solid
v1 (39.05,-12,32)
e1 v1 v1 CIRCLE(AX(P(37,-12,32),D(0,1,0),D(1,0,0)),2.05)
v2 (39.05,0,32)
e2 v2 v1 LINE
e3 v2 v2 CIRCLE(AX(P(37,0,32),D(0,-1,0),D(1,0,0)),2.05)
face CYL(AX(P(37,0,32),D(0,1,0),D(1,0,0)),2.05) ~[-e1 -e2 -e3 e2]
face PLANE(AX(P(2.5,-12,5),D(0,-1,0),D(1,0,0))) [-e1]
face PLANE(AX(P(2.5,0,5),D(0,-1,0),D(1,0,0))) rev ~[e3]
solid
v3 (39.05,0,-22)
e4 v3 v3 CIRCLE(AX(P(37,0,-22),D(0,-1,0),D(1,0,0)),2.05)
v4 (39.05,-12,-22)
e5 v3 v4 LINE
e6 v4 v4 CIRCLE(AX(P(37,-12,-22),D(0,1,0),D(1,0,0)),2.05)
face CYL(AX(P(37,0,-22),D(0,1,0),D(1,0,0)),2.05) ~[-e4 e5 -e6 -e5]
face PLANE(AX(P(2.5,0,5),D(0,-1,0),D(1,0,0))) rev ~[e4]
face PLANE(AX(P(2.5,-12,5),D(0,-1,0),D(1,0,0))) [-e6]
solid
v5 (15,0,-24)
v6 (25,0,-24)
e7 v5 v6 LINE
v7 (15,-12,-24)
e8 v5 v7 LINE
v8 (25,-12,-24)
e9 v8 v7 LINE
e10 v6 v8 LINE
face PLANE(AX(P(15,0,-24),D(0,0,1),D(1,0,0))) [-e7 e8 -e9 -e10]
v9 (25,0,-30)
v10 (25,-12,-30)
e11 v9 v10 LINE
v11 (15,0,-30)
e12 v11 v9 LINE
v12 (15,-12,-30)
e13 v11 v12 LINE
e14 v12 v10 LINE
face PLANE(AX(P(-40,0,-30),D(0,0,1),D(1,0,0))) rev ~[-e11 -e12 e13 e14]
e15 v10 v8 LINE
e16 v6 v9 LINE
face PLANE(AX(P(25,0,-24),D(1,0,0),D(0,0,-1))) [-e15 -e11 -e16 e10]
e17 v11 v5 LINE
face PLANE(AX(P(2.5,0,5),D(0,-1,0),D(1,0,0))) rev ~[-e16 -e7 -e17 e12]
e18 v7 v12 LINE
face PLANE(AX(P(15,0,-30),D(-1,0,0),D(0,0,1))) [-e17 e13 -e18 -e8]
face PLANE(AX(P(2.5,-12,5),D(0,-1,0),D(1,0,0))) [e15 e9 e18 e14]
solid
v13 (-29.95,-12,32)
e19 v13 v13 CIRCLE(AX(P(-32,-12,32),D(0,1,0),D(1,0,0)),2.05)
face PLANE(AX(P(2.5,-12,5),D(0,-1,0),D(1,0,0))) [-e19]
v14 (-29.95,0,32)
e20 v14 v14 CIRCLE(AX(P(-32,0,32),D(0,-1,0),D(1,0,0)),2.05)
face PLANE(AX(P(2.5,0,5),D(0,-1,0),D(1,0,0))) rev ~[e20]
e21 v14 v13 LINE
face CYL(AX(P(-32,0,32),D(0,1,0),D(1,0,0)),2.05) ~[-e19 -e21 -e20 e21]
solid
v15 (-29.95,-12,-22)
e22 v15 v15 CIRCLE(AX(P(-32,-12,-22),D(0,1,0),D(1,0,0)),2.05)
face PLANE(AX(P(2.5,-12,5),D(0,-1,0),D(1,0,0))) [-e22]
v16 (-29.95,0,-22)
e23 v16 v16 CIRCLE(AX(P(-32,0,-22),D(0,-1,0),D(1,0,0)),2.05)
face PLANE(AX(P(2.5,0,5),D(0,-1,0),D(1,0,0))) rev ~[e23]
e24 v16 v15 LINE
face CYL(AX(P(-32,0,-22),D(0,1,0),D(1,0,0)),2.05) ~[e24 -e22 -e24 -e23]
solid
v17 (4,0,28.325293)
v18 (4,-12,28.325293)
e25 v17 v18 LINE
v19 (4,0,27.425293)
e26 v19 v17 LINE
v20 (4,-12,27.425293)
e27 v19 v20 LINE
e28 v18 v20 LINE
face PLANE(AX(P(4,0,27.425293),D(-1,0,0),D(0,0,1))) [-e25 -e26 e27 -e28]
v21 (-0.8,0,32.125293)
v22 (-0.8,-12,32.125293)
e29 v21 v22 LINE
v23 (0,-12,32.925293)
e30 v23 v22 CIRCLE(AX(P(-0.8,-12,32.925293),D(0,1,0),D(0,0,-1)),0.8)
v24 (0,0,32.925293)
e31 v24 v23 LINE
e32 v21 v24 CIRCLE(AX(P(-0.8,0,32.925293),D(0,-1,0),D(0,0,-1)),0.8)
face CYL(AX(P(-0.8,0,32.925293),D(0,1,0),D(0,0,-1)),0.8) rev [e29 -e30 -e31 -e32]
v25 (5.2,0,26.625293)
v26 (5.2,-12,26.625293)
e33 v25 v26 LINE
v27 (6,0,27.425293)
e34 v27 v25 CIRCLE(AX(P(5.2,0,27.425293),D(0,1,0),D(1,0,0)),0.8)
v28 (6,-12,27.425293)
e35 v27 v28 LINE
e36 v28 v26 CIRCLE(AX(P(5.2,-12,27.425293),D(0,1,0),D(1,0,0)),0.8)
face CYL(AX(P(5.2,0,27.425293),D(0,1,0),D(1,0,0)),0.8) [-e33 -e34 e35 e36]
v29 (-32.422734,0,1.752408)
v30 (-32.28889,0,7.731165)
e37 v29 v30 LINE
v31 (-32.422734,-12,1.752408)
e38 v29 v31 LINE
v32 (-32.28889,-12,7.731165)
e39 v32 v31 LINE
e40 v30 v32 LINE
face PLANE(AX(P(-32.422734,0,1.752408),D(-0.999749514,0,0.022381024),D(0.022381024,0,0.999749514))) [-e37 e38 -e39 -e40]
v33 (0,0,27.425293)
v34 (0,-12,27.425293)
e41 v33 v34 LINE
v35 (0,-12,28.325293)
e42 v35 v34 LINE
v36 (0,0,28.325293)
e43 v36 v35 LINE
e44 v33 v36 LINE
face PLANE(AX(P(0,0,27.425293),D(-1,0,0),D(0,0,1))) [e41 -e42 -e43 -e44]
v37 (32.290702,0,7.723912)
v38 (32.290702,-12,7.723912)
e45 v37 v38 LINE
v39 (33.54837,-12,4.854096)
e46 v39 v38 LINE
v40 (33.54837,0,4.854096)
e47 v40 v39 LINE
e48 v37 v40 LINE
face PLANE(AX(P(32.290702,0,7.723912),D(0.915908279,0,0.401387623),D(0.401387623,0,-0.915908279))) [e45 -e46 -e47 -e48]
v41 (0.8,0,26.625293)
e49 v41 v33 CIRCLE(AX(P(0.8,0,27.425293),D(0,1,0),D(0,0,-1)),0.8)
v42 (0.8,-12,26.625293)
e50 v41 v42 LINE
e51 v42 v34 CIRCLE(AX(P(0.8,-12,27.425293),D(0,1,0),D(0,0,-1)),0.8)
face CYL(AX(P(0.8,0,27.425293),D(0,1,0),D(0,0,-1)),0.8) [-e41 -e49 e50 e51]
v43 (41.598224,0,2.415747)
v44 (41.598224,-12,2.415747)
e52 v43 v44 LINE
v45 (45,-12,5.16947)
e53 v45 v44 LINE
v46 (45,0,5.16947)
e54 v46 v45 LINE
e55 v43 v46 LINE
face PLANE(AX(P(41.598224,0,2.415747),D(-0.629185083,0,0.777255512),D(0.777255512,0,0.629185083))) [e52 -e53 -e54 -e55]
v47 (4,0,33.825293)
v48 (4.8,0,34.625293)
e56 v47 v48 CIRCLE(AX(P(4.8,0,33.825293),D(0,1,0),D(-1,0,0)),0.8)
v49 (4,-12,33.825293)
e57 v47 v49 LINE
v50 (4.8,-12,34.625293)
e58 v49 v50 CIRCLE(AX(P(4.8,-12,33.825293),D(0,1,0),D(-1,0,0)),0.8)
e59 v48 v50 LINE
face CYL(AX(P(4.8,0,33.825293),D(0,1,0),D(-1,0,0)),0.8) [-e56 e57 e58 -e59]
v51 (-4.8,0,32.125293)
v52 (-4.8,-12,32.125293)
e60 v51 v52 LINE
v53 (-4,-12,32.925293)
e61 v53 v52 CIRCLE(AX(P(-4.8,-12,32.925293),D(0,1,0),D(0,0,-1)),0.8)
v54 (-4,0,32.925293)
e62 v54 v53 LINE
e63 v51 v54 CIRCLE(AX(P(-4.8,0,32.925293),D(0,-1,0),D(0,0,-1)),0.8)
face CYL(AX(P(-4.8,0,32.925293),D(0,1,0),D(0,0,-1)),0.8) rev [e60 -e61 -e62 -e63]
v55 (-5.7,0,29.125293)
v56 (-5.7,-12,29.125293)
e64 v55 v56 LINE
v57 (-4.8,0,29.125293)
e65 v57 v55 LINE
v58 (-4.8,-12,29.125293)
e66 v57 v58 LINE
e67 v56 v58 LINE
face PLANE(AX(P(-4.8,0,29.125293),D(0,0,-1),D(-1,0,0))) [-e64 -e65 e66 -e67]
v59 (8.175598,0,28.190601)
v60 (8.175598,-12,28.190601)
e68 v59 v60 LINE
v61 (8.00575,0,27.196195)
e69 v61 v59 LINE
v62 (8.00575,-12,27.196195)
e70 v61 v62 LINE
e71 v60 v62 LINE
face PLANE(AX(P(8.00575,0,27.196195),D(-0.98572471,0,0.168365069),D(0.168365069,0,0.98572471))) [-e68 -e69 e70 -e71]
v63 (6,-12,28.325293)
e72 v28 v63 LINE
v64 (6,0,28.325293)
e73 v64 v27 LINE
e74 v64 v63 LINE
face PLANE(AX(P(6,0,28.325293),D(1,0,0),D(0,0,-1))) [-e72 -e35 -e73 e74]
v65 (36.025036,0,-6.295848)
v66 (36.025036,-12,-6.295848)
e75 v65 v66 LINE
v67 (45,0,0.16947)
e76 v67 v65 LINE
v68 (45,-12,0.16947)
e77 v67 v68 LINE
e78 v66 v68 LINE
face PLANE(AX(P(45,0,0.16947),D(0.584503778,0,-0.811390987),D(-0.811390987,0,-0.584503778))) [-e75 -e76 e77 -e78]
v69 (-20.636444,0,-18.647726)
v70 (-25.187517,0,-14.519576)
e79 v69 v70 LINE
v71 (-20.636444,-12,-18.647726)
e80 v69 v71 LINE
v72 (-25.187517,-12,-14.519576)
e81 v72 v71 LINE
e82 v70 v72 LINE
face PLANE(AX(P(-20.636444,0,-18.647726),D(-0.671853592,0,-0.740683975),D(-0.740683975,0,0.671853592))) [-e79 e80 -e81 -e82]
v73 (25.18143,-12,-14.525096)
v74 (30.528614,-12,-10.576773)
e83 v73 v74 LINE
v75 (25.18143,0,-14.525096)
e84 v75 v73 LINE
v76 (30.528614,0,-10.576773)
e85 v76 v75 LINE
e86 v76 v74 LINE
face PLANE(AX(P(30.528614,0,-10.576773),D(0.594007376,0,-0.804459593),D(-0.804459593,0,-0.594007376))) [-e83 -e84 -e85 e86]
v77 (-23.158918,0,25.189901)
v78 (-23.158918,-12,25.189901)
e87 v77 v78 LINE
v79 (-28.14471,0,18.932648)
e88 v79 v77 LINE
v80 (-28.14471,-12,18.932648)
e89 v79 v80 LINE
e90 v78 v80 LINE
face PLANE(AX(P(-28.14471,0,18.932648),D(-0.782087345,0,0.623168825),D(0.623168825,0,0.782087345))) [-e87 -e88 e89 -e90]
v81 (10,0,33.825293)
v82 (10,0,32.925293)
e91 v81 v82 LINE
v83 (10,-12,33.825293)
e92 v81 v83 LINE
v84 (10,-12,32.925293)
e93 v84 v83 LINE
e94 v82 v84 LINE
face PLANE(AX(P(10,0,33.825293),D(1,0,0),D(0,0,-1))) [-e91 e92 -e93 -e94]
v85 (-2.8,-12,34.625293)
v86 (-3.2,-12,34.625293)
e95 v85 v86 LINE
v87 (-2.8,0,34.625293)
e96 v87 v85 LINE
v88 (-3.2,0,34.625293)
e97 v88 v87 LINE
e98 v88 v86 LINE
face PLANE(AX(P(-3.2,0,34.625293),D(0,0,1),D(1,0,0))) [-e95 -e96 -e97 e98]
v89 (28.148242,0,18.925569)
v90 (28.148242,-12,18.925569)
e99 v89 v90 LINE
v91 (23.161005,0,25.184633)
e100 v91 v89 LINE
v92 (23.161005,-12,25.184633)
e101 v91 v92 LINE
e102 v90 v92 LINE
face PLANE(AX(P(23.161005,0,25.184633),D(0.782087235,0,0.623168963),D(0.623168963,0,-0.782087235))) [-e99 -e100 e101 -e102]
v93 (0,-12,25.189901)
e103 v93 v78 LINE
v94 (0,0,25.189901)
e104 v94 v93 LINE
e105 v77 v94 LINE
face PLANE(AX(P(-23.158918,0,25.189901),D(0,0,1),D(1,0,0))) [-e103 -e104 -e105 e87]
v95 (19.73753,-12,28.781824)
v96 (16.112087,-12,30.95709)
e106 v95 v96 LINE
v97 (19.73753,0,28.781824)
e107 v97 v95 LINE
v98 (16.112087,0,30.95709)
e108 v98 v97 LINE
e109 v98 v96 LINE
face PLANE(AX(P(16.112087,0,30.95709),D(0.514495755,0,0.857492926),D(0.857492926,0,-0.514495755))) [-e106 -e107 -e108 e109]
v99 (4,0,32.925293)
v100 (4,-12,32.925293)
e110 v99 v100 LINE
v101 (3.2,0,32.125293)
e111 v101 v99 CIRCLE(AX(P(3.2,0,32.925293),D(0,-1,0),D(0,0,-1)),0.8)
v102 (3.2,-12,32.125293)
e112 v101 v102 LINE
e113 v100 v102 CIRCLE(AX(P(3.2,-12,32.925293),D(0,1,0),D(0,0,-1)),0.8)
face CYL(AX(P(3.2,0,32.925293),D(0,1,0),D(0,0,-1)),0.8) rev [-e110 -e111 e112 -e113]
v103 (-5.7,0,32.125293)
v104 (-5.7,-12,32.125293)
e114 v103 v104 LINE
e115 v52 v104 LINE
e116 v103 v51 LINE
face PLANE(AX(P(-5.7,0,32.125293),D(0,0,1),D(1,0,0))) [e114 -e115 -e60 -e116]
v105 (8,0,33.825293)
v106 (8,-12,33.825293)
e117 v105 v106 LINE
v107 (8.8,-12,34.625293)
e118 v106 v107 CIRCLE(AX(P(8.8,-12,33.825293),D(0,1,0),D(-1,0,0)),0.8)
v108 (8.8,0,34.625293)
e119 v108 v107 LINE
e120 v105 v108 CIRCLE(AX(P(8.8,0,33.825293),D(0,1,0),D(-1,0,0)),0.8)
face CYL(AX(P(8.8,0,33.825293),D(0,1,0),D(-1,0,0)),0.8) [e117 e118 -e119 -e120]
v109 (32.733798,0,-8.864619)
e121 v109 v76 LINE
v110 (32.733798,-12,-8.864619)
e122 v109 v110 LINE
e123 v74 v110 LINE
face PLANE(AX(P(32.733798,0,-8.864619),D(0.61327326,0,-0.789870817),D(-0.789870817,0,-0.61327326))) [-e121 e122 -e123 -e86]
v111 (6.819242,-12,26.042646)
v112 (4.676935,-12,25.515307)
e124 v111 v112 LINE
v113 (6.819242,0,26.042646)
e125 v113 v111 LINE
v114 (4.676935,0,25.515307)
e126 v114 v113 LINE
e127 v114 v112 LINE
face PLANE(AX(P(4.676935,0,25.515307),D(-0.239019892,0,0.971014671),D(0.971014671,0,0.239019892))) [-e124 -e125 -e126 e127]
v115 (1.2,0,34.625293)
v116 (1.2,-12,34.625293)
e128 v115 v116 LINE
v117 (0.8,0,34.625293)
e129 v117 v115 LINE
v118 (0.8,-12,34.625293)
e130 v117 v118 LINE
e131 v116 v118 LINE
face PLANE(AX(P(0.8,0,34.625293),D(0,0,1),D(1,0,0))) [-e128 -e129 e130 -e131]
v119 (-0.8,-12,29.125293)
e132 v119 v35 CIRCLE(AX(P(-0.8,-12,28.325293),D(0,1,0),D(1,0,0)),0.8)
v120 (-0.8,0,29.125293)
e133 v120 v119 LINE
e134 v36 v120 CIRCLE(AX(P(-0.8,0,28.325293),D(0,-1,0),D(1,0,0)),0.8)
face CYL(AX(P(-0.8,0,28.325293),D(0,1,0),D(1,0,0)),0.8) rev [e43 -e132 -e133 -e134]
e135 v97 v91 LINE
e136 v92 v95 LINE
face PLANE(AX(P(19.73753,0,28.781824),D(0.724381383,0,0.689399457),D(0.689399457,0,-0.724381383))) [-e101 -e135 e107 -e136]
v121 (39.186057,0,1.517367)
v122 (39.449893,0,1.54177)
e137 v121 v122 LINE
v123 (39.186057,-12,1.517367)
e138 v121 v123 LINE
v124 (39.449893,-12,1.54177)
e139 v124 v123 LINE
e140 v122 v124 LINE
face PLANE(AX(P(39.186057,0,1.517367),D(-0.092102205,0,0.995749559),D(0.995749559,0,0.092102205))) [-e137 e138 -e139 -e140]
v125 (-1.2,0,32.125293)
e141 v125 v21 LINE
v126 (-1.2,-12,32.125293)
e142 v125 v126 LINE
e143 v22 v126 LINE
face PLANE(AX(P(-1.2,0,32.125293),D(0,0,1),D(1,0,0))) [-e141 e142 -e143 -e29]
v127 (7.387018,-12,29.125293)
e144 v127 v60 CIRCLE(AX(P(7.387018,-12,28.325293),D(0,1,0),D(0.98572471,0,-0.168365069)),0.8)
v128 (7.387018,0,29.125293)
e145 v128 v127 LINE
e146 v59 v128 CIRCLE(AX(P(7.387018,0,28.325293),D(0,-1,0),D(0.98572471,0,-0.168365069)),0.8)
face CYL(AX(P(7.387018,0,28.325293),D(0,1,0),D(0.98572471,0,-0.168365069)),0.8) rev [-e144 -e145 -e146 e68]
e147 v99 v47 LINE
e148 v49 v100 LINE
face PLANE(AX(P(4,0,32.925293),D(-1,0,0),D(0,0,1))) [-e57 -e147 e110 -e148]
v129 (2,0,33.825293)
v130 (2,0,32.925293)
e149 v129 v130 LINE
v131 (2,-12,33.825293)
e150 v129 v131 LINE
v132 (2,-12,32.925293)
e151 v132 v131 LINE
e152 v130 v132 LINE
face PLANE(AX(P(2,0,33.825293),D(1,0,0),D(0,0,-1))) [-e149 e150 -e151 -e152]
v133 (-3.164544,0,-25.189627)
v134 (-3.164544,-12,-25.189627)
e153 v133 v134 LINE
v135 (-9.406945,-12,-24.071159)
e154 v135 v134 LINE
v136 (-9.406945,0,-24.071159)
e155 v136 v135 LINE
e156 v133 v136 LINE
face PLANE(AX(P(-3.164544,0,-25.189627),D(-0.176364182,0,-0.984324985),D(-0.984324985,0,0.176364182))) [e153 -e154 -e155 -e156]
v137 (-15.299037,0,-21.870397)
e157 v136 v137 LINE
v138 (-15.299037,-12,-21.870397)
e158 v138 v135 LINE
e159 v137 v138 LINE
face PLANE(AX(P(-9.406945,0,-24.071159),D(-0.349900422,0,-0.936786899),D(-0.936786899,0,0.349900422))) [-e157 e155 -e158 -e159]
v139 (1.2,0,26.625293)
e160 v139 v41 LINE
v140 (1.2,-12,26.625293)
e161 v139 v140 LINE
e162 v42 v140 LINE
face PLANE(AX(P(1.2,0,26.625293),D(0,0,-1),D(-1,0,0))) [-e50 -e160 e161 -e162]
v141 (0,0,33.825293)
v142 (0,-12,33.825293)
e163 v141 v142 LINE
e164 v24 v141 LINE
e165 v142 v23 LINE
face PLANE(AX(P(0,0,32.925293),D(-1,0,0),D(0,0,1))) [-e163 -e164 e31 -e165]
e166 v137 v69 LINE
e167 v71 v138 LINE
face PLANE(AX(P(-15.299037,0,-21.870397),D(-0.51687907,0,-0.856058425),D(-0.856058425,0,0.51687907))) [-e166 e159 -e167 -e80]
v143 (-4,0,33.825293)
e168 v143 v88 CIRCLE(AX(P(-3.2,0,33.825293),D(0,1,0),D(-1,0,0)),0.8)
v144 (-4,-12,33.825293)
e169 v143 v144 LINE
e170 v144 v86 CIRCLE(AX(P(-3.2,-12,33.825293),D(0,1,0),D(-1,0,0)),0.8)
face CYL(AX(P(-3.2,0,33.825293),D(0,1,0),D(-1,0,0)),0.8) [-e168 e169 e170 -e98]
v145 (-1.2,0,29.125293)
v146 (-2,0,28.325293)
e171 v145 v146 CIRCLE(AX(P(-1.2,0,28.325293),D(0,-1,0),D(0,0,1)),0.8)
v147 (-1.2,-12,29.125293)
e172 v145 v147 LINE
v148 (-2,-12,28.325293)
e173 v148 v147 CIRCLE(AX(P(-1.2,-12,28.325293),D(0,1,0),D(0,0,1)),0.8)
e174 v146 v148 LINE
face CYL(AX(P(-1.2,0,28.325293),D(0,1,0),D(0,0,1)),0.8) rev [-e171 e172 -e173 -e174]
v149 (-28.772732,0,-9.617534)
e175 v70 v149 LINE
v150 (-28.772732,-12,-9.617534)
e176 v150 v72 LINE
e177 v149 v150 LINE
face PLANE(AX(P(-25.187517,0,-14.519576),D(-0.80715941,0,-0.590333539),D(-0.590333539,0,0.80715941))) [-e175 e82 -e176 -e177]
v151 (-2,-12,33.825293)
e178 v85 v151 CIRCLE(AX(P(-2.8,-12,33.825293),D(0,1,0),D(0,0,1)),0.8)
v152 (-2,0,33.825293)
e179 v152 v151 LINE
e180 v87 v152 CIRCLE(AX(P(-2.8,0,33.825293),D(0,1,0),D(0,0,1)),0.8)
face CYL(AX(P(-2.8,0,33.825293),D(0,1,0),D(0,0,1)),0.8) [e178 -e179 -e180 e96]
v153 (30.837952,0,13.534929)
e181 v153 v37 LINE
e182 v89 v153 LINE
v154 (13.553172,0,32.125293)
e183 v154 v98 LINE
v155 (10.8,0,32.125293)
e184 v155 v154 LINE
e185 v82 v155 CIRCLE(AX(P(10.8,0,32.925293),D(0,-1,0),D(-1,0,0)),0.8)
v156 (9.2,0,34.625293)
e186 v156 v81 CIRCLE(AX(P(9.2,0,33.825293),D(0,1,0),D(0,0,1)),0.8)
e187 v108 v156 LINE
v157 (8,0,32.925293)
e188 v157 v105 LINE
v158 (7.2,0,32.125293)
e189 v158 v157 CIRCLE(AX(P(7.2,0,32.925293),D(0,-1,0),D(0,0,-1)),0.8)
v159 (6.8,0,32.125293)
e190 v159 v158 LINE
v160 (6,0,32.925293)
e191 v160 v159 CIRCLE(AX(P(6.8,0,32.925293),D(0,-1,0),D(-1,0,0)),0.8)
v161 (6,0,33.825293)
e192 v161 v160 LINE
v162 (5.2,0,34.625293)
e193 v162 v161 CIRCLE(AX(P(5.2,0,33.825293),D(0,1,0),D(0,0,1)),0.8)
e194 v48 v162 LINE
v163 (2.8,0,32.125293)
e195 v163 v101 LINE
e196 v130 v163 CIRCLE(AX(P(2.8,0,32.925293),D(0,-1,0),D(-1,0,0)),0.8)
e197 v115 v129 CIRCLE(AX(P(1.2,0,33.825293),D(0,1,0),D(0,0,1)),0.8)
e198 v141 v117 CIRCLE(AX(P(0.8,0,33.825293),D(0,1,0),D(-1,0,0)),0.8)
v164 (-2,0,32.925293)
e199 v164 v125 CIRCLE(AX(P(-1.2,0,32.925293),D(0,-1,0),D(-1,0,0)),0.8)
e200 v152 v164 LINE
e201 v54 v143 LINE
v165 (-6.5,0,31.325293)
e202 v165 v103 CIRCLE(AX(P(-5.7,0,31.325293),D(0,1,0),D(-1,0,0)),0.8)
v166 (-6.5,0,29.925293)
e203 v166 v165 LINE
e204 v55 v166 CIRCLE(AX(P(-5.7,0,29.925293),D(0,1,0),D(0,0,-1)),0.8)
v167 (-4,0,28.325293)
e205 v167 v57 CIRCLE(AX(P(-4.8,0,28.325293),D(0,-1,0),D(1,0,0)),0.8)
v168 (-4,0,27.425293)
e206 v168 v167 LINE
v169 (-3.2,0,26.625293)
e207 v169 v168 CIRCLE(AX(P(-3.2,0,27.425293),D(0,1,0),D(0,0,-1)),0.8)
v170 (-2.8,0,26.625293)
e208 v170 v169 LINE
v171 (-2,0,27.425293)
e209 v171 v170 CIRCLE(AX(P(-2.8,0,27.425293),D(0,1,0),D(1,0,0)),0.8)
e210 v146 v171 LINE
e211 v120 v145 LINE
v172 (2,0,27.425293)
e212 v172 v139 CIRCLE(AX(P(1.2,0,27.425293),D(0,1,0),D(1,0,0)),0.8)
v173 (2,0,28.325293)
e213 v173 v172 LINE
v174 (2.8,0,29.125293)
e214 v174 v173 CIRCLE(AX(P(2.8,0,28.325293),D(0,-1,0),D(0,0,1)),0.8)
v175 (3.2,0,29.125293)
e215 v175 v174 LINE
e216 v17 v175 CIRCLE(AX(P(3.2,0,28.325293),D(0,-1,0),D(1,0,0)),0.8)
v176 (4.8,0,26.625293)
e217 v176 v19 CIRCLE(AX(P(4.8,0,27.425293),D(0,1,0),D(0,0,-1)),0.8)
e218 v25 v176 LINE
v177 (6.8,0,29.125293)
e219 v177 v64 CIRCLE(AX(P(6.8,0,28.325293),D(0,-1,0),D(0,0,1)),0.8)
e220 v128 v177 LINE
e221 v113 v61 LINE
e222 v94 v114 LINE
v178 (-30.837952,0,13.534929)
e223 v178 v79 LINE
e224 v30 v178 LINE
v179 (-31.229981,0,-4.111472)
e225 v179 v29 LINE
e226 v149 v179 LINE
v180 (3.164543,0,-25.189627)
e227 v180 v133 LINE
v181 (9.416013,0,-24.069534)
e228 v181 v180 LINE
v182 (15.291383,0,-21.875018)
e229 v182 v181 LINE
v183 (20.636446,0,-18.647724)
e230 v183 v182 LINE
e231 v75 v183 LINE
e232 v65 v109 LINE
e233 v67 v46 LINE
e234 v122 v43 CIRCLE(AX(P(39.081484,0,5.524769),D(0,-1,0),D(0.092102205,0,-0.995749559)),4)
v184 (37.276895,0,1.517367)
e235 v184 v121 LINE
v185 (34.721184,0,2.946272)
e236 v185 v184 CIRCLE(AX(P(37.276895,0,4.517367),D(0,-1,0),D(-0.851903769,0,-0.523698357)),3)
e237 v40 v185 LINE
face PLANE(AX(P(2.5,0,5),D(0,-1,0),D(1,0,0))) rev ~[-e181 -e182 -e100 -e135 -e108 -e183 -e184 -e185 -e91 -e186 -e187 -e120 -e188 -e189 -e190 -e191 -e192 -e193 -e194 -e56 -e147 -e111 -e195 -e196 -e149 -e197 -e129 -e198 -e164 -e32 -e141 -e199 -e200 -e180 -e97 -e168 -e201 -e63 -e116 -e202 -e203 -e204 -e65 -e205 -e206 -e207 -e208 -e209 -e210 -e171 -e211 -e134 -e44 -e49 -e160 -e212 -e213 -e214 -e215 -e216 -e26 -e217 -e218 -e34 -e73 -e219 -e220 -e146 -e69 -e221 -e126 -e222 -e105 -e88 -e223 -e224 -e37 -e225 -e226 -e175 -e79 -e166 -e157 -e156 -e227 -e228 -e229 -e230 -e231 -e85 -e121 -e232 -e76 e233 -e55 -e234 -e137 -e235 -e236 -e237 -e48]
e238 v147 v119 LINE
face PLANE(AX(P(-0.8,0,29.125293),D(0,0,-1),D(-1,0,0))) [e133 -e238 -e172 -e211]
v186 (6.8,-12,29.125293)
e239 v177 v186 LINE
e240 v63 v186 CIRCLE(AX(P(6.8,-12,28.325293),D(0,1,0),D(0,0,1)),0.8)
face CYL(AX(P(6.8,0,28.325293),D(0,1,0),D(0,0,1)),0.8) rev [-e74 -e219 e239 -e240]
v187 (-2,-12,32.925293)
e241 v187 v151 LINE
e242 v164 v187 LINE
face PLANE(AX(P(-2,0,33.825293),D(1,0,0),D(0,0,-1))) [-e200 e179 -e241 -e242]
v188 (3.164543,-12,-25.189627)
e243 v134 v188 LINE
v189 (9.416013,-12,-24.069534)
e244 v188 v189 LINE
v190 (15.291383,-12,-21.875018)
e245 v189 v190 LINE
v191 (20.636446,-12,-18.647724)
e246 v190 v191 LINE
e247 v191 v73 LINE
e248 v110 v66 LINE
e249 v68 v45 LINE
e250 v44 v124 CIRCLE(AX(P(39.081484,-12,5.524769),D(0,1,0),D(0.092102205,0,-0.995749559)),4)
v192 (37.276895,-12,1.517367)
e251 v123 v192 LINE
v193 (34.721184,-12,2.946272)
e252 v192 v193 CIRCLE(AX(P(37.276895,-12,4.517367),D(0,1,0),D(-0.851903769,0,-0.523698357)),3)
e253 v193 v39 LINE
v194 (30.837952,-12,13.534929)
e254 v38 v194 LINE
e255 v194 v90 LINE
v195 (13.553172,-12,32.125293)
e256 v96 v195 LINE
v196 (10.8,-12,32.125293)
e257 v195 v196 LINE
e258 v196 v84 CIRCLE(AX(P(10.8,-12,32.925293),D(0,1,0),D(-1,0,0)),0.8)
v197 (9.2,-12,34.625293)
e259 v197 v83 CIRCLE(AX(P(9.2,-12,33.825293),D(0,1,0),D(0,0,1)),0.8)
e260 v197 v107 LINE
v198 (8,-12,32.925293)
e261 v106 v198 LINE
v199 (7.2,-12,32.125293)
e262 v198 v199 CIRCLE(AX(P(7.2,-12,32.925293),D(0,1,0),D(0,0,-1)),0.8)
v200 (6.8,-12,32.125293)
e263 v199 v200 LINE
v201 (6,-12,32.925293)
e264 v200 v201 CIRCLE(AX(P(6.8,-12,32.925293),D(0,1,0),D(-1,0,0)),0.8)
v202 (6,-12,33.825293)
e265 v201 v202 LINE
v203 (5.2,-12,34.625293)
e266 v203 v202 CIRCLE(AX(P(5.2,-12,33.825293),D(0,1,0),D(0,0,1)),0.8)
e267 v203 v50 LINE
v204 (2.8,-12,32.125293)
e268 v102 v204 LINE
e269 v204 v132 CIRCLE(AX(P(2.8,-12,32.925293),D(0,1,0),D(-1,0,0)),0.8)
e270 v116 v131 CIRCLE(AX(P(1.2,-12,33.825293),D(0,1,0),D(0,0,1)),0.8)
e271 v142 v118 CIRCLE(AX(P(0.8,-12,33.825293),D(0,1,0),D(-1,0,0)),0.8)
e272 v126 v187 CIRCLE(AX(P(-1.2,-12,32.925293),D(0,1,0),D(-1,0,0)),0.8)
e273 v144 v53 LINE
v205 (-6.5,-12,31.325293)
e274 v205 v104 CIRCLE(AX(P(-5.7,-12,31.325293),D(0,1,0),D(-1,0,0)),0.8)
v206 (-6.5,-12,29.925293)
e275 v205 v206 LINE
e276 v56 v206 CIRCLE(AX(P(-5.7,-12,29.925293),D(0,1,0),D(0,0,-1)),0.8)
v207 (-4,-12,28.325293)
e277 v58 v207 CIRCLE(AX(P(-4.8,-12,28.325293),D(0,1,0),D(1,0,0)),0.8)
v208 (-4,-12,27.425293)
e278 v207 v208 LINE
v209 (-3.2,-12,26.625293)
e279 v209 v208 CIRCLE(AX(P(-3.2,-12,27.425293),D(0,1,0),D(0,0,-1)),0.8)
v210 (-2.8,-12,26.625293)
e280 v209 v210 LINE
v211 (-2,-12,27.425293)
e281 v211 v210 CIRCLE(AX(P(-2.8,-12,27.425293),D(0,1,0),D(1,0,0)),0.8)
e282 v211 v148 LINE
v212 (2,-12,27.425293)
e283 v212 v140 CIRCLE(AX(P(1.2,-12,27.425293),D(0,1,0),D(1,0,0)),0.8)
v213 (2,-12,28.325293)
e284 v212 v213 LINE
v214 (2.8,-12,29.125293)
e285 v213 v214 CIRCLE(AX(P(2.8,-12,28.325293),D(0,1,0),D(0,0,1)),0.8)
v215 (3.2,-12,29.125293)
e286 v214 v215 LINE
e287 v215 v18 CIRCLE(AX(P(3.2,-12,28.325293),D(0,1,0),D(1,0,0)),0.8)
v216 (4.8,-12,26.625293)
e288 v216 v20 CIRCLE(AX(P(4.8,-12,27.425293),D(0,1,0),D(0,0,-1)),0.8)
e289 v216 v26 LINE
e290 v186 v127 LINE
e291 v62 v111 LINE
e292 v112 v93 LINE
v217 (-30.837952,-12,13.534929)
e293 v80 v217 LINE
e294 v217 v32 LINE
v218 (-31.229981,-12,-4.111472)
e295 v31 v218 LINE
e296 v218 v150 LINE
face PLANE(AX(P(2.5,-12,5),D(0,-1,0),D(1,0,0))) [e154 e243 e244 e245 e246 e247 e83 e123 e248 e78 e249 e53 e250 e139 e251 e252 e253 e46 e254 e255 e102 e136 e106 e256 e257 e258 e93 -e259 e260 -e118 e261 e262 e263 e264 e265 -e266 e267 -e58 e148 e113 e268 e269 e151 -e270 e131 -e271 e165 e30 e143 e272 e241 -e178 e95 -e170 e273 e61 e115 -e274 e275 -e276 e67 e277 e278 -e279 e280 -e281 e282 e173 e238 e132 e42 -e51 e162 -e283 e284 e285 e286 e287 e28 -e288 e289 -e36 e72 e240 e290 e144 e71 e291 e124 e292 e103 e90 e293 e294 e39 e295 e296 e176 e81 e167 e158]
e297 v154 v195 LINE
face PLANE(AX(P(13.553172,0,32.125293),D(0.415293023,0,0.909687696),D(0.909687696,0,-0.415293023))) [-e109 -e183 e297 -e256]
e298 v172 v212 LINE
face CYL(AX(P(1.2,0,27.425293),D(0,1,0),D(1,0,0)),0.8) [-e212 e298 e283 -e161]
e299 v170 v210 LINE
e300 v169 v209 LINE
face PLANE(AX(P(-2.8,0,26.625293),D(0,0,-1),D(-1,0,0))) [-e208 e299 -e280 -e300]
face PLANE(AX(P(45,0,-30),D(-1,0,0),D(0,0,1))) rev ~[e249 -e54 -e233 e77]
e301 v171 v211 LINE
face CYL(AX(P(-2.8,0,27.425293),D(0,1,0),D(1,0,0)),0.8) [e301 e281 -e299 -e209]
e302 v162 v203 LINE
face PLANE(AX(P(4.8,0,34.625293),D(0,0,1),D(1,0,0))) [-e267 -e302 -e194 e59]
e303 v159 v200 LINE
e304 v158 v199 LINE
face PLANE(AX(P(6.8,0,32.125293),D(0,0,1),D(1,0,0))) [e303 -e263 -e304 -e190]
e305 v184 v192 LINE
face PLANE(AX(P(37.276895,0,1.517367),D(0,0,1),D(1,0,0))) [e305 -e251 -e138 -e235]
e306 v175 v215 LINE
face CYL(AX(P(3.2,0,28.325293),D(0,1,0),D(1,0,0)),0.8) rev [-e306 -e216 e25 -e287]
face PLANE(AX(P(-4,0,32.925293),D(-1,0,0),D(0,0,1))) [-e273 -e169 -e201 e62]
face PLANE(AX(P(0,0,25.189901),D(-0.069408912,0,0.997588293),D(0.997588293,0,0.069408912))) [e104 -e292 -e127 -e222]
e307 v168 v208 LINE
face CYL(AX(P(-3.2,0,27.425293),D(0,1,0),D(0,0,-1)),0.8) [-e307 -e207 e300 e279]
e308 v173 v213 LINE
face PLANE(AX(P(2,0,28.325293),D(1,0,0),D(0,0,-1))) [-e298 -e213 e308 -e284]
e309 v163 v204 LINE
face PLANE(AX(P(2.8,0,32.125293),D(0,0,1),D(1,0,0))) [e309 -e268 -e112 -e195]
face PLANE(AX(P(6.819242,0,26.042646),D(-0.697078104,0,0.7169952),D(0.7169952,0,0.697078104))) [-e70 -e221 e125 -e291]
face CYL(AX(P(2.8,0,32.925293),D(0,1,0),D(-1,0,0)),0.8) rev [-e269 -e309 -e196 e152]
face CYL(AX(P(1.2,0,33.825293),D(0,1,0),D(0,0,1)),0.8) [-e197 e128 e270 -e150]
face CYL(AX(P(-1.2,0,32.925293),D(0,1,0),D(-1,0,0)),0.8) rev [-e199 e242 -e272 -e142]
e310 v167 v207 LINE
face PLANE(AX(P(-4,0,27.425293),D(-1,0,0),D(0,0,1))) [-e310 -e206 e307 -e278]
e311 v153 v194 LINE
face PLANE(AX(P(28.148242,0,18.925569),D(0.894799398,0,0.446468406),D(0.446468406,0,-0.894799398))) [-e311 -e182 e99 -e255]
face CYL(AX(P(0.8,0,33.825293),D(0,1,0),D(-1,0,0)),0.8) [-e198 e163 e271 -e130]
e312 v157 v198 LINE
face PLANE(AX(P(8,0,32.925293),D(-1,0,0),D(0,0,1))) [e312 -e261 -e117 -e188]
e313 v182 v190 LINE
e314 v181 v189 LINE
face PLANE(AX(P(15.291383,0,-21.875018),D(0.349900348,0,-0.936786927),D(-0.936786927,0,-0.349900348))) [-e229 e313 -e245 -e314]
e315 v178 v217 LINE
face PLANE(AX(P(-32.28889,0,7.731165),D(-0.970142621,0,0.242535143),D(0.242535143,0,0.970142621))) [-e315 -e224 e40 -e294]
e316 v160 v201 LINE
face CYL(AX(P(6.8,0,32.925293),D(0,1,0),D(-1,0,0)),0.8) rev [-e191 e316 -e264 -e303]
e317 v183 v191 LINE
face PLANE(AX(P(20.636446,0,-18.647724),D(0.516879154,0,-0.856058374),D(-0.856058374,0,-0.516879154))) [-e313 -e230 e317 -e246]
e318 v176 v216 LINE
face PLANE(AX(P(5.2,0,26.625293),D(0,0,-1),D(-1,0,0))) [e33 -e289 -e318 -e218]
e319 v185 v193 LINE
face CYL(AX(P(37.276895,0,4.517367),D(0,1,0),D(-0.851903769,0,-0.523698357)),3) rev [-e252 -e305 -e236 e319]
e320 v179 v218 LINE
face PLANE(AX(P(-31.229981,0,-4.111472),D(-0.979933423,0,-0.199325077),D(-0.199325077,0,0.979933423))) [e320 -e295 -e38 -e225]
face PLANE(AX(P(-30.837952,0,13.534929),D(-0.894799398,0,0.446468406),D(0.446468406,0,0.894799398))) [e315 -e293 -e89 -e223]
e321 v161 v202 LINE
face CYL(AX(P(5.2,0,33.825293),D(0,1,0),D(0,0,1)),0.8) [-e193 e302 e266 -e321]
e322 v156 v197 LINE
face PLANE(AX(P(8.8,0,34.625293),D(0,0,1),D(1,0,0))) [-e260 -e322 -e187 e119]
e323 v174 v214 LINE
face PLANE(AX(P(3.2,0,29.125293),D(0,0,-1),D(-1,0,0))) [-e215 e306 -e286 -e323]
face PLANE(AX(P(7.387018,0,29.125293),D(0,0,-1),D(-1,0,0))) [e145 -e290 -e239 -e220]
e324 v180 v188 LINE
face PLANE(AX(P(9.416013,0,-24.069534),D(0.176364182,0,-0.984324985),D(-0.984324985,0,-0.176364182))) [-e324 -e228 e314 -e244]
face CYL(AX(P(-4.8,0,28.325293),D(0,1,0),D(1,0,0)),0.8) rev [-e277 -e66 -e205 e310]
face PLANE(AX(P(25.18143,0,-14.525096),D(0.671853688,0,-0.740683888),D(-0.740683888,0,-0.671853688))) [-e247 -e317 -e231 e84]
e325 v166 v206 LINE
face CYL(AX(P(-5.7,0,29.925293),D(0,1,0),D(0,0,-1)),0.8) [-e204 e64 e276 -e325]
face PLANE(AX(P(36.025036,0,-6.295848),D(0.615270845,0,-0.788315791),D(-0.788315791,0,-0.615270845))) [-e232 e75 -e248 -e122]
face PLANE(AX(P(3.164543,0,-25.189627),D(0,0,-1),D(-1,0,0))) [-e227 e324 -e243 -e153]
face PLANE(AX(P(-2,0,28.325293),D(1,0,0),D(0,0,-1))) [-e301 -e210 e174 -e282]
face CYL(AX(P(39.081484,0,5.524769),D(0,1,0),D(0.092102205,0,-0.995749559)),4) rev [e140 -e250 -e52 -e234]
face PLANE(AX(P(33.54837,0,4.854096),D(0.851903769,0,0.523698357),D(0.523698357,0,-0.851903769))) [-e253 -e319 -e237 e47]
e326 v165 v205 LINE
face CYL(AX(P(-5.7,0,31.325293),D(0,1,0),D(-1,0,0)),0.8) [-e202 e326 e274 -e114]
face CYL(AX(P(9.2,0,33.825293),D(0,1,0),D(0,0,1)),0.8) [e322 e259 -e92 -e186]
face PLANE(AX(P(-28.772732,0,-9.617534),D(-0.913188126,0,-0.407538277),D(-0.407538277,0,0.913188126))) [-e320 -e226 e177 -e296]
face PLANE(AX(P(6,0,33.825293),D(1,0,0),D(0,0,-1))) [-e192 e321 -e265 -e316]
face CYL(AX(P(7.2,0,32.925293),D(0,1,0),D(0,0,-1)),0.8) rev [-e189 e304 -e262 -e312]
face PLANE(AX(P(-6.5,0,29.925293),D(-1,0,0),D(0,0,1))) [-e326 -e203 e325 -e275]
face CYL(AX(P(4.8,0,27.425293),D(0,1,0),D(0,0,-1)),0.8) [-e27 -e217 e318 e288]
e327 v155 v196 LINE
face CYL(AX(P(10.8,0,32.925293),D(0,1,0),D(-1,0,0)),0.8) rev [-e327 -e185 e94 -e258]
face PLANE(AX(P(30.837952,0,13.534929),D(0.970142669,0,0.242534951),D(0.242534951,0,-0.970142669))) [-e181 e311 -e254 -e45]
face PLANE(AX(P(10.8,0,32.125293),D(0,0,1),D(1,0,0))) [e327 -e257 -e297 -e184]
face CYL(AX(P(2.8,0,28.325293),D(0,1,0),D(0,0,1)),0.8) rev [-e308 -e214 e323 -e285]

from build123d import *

# Parameters (mm, degrees)
F1_W     = 85
F1_H     = 70
F5_DEPTH = 12
F4_R     = 2.05
F6_DEPTH = 62.1


with BuildPart() as f5:
    # F1 (on Front) → F5 (new body)
    with BuildSketch(Plane.XZ):
        with Locations((2.5, 5)):
            Rectangle(F1_W, F1_H)
    extrude(amount=F5_DEPTH)

    # F4 (on Front) → F6 (cut)
    with BuildSketch(Plane.XZ):
        with BuildLine():
            Line((-31.2299812068, -4.1114716804), (-32.4227339013, 1.7524078222))
            Line((-32.4227339013, 1.7524078222), (-32.2888896622, 7.7311653504))
            Line((-32.2888896622, 7.7311653504), (-30.8379518083, 13.5349290141))
            Line((-30.8379518083, 13.5349290141), (-28.1447099737, 18.9326484028))
            Line((-28.1447099737, 18.9326484028), (-23.1589180792, 25.1899009997))
            Line((-23.1589180792, 25.1899009997), (0, 25.1899009997))
            Line((0, 25.1899009997), (4.6769347973, 25.515306741))
            Line((4.6769347973, 25.515306741), (6.8192416802, 26.0426457971))
            Line((6.8192416802, 26.0426457971), (8.0057503656, 27.1961949766))
            Line((8.0057503656, 27.1961949766), (8.175598207, 28.190600854))
            ThreePointArc((8.175598207, 28.190600854), (7.9984731162, 28.8411641896), (7.3870184391, 29.1252929092))
            Line((7.3870184391, 29.1252929092), (6.8, 29.1252929092))
            ThreePointArc((6.8, 29.1252929092), (6.2343145751, 28.8909783342), (6, 28.3252929092))
            Line((6, 28.3252929092), (6, 27.4252929092))
            ThreePointArc((6, 27.4252929092), (5.7656854249, 26.8596074843), (5.2, 26.6252929092))
            Line((5.2, 26.6252929092), (4.8, 26.6252929092))
            ThreePointArc((4.8, 26.6252929092), (4.2343145751, 26.8596074843), (4, 27.4252929092))
            Line((4, 27.4252929092), (4, 28.3252929092))
            ThreePointArc((4, 28.3252929092), (3.7656854249, 28.8909783342), (3.2, 29.1252929092))
            Line((3.2, 29.1252929092), (2.8, 29.1252929092))
            ThreePointArc((2.8, 29.1252929092), (2.2343145751, 28.8909783342), (2, 28.3252929092))
            Line((2, 28.3252929092), (2, 27.4252929092))
            ThreePointArc((2, 27.4252929092), (1.7656854249, 26.8596074843), (1.2, 26.6252929092))
            Line((1.2, 26.6252929092), (0.8, 26.6252929092))
            ThreePointArc((0.8, 26.6252929092), (0.2343145751, 26.8596074843), (0, 27.4252929092))
            Line((0, 27.4252929092), (0, 28.3252929092))
            ThreePointArc((0, 28.3252929092), (-0.2343145751, 28.8909783342), (-0.8, 29.1252929092))
            Line((-0.8, 29.1252929092), (-1.2, 29.1252929092))
            ThreePointArc((-1.2, 29.1252929092), (-1.7656854249, 28.8909783342), (-2, 28.3252929092))
            Line((-2, 28.3252929092), (-2, 27.4252929092))
            ThreePointArc((-2, 27.4252929092), (-2.2343145751, 26.8596074843), (-2.8, 26.6252929092))
            Line((-2.8, 26.6252929092), (-3.2, 26.6252929092))
            ThreePointArc((-3.2, 26.6252929092), (-3.7656854249, 26.8596074843), (-4, 27.4252929092))
            Line((-4, 27.4252929092), (-4, 28.3252929092))
            ThreePointArc((-4, 28.3252929092), (-4.2343145751, 28.8909783342), (-4.8, 29.1252929092))
            Line((-4.8, 29.1252929092), (-5.7, 29.1252929092))
            ThreePointArc((-5.7, 29.1252929092), (-6.2656854249, 29.3596074843), (-6.5, 29.9252929092))
            Line((-6.5, 29.9252929092), (-6.5, 31.3252929092))
            ThreePointArc((-6.5, 31.3252929092), (-6.2656854249, 31.8909783342), (-5.7, 32.1252929092))
            Line((-5.7, 32.1252929092), (-4.8, 32.1252929092))
            ThreePointArc((-4.8, 32.1252929092), (-4.2343145751, 32.3596074843), (-4, 32.9252929092))
            Line((-4, 32.9252929092), (-4, 33.8252929092))
            ThreePointArc((-4, 33.8252929092), (-3.7656854249, 34.3909783342), (-3.2, 34.6252929092))
            Line((-3.2, 34.6252929092), (-2.8, 34.6252929092))
            ThreePointArc((-2.8, 34.6252929092), (-2.2343145751, 34.3909783342), (-2, 33.8252929092))
            Line((-2, 33.8252929092), (-2, 32.9252929092))
            ThreePointArc((-2, 32.9252929092), (-1.7656854249, 32.3596074843), (-1.2, 32.1252929092))
            Line((-1.2, 32.1252929092), (-0.8, 32.1252929092))
            ThreePointArc((-0.8, 32.1252929092), (-0.2343145751, 32.3596074843), (0, 32.9252929092))
            Line((0, 32.9252929092), (0, 33.8252929092))
            ThreePointArc((0, 33.8252929092), (0.2343145751, 34.3909783342), (0.8, 34.6252929092))
            Line((0.8, 34.6252929092), (1.2, 34.6252929092))
            ThreePointArc((1.2, 34.6252929092), (1.7656854249, 34.3909783342), (2, 33.8252929092))
            Line((2, 33.8252929092), (2, 32.9252929092))
            ThreePointArc((2, 32.9252929092), (2.2343145751, 32.3596074843), (2.8, 32.1252929092))
            Line((2.8, 32.1252929092), (3.2, 32.1252929092))
            ThreePointArc((3.2, 32.1252929092), (3.7656854249, 32.3596074843), (4, 32.9252929092))
            Line((4, 32.9252929092), (4, 33.8252929092))
            ThreePointArc((4, 33.8252929092), (4.2343145751, 34.3909783342), (4.8, 34.6252929092))
            Line((4.8, 34.6252929092), (5.2, 34.6252929092))
            ThreePointArc((5.2, 34.6252929092), (5.7656854249, 34.3909783342), (6, 33.8252929092))
            Line((6, 33.8252929092), (6, 32.9252929092))
            ThreePointArc((6, 32.9252929092), (6.2343145751, 32.3596074843), (6.8, 32.1252929092))
            Line((6.8, 32.1252929092), (7.2, 32.1252929092))
            ThreePointArc((7.2, 32.1252929092), (7.7656854249, 32.3596074843), (8, 32.9252929092))
            Line((8, 32.9252929092), (8, 33.8252929092))
            ThreePointArc((8, 33.8252929092), (8.2343145751, 34.3909783342), (8.8, 34.6252929092))
            Line((8.8, 34.6252929092), (9.2, 34.6252929092))
            ThreePointArc((9.2, 34.6252929092), (9.7656854249, 34.3909783342), (10, 33.8252929092))
            Line((10, 33.8252929092), (10, 32.9252929092))
            ThreePointArc((10, 32.9252929092), (10.2343145751, 32.3596074843), (10.8, 32.1252929092))
            Line((10.8, 32.1252929092), (10.9885356627, 32.1252929092))
            Line((10.9885356627, 32.1252929092), (13.5531716812, 32.1252929092))
            Line((13.5531716812, 32.1252929092), (16.1120866663, 30.9570903004))
            Line((16.1120866663, 30.9570903004), (19.7375298716, 28.7818243773))
            Line((19.7375298716, 28.7818243773), (23.1610051704, 25.1846330154))
            Line((23.1610051704, 25.1846330154), (28.1482424629, 18.9255686875))
            Line((28.1482424629, 18.9255686875), (30.8379520327, 13.5349285645))
            Line((30.8379520327, 13.5349285645), (32.290701789, 7.7239123706))
            Line((32.290701789, 7.7239123706), (33.5483700037, 4.8540960997))
            Line((33.5483700037, 4.8540960997), (34.7211838335, 2.9462716643))
            ThreePointArc((34.7211838335, 2.9462716643), (35.8128741717, 1.8988475717), (37.2768951397, 1.5173667343))
            Line((37.2768951397, 1.5173667343), (39.1860567033, 1.5173667343))
            Line((39.1860567033, 1.5173667343), (39.4498927766, 1.5417703444))
            ThreePointArc((39.4498927766, 1.5417703444), (40.5887928176, 1.8196343038), (41.5982242897, 2.4157465302))
            Line((41.5982242897, 2.4157465302), (45, 5.1694697241))
            Line((45, 5.1694697241), (45, 40))
            Line((45, 40), (-40, 40))
            Line((-40, 40), (-40, -30))
            Line((-40, -30), (15, -30))
            Line((15, -30), (15, -24))
            Line((15, -24), (25, -24))
            Line((25, -24), (25, -30))
            Line((25, -30), (45, -30))
            Line((45, -30), (45, 0.1694697241))
            Line((45, 0.1694697241), (36.0250361264, -6.2958477065))
            Line((36.0250361264, -6.2958477065), (32.733798027, -8.8646188378))
            Line((32.733798027, -8.8646188378), (30.5286142975, -10.5767725036))
            Line((30.5286142975, -10.5767725036), (25.1814303744, -14.5250959721))
            Line((25.1814303744, -14.5250959721), (20.6364464315, -18.6477240923))
            Line((20.6364464315, -18.6477240923), (15.2913826186, -21.8750180972))
            Line((15.2913826186, -21.8750180972), (9.4160128543, -24.0695341256))
            Line((9.4160128543, -24.0695341256), (3.1645428201, -25.189627))
            Line((3.1645428201, -25.189627), (-3.1645438201, -25.189627))
            Line((-3.1645438201, -25.189627), (-9.4069449348, -24.0711590285))
            Line((-9.4069449348, -24.0711590285), (-15.29903657, -21.8703966676))
            Line((-15.29903657, -21.8703966676), (-20.6364439779, -18.647726234))
            Line((-20.6364439779, -18.647726234), (-25.1875165353, -14.5195763818))
            Line((-25.1875165353, -14.5195763818), (-28.7727317318, -9.6175337402))
            Line((-28.7727317318, -9.6175337402), (-31.2299812068, -4.1114716804))
        make_face()
        with Locations((-32, -22)):
            Circle(F4_R, mode=Mode.SUBTRACT)
        with Locations((37, -22)):
            Circle(F4_R, mode=Mode.SUBTRACT)
        with Locations((-32, 32)):
            Circle(F4_R, mode=Mode.SUBTRACT)
        with Locations((37, 32)):
            Circle(F4_R, mode=Mode.SUBTRACT)
    extrude(amount=F6_DEPTH, mode=Mode.SUBTRACT)


solid = f5.part
